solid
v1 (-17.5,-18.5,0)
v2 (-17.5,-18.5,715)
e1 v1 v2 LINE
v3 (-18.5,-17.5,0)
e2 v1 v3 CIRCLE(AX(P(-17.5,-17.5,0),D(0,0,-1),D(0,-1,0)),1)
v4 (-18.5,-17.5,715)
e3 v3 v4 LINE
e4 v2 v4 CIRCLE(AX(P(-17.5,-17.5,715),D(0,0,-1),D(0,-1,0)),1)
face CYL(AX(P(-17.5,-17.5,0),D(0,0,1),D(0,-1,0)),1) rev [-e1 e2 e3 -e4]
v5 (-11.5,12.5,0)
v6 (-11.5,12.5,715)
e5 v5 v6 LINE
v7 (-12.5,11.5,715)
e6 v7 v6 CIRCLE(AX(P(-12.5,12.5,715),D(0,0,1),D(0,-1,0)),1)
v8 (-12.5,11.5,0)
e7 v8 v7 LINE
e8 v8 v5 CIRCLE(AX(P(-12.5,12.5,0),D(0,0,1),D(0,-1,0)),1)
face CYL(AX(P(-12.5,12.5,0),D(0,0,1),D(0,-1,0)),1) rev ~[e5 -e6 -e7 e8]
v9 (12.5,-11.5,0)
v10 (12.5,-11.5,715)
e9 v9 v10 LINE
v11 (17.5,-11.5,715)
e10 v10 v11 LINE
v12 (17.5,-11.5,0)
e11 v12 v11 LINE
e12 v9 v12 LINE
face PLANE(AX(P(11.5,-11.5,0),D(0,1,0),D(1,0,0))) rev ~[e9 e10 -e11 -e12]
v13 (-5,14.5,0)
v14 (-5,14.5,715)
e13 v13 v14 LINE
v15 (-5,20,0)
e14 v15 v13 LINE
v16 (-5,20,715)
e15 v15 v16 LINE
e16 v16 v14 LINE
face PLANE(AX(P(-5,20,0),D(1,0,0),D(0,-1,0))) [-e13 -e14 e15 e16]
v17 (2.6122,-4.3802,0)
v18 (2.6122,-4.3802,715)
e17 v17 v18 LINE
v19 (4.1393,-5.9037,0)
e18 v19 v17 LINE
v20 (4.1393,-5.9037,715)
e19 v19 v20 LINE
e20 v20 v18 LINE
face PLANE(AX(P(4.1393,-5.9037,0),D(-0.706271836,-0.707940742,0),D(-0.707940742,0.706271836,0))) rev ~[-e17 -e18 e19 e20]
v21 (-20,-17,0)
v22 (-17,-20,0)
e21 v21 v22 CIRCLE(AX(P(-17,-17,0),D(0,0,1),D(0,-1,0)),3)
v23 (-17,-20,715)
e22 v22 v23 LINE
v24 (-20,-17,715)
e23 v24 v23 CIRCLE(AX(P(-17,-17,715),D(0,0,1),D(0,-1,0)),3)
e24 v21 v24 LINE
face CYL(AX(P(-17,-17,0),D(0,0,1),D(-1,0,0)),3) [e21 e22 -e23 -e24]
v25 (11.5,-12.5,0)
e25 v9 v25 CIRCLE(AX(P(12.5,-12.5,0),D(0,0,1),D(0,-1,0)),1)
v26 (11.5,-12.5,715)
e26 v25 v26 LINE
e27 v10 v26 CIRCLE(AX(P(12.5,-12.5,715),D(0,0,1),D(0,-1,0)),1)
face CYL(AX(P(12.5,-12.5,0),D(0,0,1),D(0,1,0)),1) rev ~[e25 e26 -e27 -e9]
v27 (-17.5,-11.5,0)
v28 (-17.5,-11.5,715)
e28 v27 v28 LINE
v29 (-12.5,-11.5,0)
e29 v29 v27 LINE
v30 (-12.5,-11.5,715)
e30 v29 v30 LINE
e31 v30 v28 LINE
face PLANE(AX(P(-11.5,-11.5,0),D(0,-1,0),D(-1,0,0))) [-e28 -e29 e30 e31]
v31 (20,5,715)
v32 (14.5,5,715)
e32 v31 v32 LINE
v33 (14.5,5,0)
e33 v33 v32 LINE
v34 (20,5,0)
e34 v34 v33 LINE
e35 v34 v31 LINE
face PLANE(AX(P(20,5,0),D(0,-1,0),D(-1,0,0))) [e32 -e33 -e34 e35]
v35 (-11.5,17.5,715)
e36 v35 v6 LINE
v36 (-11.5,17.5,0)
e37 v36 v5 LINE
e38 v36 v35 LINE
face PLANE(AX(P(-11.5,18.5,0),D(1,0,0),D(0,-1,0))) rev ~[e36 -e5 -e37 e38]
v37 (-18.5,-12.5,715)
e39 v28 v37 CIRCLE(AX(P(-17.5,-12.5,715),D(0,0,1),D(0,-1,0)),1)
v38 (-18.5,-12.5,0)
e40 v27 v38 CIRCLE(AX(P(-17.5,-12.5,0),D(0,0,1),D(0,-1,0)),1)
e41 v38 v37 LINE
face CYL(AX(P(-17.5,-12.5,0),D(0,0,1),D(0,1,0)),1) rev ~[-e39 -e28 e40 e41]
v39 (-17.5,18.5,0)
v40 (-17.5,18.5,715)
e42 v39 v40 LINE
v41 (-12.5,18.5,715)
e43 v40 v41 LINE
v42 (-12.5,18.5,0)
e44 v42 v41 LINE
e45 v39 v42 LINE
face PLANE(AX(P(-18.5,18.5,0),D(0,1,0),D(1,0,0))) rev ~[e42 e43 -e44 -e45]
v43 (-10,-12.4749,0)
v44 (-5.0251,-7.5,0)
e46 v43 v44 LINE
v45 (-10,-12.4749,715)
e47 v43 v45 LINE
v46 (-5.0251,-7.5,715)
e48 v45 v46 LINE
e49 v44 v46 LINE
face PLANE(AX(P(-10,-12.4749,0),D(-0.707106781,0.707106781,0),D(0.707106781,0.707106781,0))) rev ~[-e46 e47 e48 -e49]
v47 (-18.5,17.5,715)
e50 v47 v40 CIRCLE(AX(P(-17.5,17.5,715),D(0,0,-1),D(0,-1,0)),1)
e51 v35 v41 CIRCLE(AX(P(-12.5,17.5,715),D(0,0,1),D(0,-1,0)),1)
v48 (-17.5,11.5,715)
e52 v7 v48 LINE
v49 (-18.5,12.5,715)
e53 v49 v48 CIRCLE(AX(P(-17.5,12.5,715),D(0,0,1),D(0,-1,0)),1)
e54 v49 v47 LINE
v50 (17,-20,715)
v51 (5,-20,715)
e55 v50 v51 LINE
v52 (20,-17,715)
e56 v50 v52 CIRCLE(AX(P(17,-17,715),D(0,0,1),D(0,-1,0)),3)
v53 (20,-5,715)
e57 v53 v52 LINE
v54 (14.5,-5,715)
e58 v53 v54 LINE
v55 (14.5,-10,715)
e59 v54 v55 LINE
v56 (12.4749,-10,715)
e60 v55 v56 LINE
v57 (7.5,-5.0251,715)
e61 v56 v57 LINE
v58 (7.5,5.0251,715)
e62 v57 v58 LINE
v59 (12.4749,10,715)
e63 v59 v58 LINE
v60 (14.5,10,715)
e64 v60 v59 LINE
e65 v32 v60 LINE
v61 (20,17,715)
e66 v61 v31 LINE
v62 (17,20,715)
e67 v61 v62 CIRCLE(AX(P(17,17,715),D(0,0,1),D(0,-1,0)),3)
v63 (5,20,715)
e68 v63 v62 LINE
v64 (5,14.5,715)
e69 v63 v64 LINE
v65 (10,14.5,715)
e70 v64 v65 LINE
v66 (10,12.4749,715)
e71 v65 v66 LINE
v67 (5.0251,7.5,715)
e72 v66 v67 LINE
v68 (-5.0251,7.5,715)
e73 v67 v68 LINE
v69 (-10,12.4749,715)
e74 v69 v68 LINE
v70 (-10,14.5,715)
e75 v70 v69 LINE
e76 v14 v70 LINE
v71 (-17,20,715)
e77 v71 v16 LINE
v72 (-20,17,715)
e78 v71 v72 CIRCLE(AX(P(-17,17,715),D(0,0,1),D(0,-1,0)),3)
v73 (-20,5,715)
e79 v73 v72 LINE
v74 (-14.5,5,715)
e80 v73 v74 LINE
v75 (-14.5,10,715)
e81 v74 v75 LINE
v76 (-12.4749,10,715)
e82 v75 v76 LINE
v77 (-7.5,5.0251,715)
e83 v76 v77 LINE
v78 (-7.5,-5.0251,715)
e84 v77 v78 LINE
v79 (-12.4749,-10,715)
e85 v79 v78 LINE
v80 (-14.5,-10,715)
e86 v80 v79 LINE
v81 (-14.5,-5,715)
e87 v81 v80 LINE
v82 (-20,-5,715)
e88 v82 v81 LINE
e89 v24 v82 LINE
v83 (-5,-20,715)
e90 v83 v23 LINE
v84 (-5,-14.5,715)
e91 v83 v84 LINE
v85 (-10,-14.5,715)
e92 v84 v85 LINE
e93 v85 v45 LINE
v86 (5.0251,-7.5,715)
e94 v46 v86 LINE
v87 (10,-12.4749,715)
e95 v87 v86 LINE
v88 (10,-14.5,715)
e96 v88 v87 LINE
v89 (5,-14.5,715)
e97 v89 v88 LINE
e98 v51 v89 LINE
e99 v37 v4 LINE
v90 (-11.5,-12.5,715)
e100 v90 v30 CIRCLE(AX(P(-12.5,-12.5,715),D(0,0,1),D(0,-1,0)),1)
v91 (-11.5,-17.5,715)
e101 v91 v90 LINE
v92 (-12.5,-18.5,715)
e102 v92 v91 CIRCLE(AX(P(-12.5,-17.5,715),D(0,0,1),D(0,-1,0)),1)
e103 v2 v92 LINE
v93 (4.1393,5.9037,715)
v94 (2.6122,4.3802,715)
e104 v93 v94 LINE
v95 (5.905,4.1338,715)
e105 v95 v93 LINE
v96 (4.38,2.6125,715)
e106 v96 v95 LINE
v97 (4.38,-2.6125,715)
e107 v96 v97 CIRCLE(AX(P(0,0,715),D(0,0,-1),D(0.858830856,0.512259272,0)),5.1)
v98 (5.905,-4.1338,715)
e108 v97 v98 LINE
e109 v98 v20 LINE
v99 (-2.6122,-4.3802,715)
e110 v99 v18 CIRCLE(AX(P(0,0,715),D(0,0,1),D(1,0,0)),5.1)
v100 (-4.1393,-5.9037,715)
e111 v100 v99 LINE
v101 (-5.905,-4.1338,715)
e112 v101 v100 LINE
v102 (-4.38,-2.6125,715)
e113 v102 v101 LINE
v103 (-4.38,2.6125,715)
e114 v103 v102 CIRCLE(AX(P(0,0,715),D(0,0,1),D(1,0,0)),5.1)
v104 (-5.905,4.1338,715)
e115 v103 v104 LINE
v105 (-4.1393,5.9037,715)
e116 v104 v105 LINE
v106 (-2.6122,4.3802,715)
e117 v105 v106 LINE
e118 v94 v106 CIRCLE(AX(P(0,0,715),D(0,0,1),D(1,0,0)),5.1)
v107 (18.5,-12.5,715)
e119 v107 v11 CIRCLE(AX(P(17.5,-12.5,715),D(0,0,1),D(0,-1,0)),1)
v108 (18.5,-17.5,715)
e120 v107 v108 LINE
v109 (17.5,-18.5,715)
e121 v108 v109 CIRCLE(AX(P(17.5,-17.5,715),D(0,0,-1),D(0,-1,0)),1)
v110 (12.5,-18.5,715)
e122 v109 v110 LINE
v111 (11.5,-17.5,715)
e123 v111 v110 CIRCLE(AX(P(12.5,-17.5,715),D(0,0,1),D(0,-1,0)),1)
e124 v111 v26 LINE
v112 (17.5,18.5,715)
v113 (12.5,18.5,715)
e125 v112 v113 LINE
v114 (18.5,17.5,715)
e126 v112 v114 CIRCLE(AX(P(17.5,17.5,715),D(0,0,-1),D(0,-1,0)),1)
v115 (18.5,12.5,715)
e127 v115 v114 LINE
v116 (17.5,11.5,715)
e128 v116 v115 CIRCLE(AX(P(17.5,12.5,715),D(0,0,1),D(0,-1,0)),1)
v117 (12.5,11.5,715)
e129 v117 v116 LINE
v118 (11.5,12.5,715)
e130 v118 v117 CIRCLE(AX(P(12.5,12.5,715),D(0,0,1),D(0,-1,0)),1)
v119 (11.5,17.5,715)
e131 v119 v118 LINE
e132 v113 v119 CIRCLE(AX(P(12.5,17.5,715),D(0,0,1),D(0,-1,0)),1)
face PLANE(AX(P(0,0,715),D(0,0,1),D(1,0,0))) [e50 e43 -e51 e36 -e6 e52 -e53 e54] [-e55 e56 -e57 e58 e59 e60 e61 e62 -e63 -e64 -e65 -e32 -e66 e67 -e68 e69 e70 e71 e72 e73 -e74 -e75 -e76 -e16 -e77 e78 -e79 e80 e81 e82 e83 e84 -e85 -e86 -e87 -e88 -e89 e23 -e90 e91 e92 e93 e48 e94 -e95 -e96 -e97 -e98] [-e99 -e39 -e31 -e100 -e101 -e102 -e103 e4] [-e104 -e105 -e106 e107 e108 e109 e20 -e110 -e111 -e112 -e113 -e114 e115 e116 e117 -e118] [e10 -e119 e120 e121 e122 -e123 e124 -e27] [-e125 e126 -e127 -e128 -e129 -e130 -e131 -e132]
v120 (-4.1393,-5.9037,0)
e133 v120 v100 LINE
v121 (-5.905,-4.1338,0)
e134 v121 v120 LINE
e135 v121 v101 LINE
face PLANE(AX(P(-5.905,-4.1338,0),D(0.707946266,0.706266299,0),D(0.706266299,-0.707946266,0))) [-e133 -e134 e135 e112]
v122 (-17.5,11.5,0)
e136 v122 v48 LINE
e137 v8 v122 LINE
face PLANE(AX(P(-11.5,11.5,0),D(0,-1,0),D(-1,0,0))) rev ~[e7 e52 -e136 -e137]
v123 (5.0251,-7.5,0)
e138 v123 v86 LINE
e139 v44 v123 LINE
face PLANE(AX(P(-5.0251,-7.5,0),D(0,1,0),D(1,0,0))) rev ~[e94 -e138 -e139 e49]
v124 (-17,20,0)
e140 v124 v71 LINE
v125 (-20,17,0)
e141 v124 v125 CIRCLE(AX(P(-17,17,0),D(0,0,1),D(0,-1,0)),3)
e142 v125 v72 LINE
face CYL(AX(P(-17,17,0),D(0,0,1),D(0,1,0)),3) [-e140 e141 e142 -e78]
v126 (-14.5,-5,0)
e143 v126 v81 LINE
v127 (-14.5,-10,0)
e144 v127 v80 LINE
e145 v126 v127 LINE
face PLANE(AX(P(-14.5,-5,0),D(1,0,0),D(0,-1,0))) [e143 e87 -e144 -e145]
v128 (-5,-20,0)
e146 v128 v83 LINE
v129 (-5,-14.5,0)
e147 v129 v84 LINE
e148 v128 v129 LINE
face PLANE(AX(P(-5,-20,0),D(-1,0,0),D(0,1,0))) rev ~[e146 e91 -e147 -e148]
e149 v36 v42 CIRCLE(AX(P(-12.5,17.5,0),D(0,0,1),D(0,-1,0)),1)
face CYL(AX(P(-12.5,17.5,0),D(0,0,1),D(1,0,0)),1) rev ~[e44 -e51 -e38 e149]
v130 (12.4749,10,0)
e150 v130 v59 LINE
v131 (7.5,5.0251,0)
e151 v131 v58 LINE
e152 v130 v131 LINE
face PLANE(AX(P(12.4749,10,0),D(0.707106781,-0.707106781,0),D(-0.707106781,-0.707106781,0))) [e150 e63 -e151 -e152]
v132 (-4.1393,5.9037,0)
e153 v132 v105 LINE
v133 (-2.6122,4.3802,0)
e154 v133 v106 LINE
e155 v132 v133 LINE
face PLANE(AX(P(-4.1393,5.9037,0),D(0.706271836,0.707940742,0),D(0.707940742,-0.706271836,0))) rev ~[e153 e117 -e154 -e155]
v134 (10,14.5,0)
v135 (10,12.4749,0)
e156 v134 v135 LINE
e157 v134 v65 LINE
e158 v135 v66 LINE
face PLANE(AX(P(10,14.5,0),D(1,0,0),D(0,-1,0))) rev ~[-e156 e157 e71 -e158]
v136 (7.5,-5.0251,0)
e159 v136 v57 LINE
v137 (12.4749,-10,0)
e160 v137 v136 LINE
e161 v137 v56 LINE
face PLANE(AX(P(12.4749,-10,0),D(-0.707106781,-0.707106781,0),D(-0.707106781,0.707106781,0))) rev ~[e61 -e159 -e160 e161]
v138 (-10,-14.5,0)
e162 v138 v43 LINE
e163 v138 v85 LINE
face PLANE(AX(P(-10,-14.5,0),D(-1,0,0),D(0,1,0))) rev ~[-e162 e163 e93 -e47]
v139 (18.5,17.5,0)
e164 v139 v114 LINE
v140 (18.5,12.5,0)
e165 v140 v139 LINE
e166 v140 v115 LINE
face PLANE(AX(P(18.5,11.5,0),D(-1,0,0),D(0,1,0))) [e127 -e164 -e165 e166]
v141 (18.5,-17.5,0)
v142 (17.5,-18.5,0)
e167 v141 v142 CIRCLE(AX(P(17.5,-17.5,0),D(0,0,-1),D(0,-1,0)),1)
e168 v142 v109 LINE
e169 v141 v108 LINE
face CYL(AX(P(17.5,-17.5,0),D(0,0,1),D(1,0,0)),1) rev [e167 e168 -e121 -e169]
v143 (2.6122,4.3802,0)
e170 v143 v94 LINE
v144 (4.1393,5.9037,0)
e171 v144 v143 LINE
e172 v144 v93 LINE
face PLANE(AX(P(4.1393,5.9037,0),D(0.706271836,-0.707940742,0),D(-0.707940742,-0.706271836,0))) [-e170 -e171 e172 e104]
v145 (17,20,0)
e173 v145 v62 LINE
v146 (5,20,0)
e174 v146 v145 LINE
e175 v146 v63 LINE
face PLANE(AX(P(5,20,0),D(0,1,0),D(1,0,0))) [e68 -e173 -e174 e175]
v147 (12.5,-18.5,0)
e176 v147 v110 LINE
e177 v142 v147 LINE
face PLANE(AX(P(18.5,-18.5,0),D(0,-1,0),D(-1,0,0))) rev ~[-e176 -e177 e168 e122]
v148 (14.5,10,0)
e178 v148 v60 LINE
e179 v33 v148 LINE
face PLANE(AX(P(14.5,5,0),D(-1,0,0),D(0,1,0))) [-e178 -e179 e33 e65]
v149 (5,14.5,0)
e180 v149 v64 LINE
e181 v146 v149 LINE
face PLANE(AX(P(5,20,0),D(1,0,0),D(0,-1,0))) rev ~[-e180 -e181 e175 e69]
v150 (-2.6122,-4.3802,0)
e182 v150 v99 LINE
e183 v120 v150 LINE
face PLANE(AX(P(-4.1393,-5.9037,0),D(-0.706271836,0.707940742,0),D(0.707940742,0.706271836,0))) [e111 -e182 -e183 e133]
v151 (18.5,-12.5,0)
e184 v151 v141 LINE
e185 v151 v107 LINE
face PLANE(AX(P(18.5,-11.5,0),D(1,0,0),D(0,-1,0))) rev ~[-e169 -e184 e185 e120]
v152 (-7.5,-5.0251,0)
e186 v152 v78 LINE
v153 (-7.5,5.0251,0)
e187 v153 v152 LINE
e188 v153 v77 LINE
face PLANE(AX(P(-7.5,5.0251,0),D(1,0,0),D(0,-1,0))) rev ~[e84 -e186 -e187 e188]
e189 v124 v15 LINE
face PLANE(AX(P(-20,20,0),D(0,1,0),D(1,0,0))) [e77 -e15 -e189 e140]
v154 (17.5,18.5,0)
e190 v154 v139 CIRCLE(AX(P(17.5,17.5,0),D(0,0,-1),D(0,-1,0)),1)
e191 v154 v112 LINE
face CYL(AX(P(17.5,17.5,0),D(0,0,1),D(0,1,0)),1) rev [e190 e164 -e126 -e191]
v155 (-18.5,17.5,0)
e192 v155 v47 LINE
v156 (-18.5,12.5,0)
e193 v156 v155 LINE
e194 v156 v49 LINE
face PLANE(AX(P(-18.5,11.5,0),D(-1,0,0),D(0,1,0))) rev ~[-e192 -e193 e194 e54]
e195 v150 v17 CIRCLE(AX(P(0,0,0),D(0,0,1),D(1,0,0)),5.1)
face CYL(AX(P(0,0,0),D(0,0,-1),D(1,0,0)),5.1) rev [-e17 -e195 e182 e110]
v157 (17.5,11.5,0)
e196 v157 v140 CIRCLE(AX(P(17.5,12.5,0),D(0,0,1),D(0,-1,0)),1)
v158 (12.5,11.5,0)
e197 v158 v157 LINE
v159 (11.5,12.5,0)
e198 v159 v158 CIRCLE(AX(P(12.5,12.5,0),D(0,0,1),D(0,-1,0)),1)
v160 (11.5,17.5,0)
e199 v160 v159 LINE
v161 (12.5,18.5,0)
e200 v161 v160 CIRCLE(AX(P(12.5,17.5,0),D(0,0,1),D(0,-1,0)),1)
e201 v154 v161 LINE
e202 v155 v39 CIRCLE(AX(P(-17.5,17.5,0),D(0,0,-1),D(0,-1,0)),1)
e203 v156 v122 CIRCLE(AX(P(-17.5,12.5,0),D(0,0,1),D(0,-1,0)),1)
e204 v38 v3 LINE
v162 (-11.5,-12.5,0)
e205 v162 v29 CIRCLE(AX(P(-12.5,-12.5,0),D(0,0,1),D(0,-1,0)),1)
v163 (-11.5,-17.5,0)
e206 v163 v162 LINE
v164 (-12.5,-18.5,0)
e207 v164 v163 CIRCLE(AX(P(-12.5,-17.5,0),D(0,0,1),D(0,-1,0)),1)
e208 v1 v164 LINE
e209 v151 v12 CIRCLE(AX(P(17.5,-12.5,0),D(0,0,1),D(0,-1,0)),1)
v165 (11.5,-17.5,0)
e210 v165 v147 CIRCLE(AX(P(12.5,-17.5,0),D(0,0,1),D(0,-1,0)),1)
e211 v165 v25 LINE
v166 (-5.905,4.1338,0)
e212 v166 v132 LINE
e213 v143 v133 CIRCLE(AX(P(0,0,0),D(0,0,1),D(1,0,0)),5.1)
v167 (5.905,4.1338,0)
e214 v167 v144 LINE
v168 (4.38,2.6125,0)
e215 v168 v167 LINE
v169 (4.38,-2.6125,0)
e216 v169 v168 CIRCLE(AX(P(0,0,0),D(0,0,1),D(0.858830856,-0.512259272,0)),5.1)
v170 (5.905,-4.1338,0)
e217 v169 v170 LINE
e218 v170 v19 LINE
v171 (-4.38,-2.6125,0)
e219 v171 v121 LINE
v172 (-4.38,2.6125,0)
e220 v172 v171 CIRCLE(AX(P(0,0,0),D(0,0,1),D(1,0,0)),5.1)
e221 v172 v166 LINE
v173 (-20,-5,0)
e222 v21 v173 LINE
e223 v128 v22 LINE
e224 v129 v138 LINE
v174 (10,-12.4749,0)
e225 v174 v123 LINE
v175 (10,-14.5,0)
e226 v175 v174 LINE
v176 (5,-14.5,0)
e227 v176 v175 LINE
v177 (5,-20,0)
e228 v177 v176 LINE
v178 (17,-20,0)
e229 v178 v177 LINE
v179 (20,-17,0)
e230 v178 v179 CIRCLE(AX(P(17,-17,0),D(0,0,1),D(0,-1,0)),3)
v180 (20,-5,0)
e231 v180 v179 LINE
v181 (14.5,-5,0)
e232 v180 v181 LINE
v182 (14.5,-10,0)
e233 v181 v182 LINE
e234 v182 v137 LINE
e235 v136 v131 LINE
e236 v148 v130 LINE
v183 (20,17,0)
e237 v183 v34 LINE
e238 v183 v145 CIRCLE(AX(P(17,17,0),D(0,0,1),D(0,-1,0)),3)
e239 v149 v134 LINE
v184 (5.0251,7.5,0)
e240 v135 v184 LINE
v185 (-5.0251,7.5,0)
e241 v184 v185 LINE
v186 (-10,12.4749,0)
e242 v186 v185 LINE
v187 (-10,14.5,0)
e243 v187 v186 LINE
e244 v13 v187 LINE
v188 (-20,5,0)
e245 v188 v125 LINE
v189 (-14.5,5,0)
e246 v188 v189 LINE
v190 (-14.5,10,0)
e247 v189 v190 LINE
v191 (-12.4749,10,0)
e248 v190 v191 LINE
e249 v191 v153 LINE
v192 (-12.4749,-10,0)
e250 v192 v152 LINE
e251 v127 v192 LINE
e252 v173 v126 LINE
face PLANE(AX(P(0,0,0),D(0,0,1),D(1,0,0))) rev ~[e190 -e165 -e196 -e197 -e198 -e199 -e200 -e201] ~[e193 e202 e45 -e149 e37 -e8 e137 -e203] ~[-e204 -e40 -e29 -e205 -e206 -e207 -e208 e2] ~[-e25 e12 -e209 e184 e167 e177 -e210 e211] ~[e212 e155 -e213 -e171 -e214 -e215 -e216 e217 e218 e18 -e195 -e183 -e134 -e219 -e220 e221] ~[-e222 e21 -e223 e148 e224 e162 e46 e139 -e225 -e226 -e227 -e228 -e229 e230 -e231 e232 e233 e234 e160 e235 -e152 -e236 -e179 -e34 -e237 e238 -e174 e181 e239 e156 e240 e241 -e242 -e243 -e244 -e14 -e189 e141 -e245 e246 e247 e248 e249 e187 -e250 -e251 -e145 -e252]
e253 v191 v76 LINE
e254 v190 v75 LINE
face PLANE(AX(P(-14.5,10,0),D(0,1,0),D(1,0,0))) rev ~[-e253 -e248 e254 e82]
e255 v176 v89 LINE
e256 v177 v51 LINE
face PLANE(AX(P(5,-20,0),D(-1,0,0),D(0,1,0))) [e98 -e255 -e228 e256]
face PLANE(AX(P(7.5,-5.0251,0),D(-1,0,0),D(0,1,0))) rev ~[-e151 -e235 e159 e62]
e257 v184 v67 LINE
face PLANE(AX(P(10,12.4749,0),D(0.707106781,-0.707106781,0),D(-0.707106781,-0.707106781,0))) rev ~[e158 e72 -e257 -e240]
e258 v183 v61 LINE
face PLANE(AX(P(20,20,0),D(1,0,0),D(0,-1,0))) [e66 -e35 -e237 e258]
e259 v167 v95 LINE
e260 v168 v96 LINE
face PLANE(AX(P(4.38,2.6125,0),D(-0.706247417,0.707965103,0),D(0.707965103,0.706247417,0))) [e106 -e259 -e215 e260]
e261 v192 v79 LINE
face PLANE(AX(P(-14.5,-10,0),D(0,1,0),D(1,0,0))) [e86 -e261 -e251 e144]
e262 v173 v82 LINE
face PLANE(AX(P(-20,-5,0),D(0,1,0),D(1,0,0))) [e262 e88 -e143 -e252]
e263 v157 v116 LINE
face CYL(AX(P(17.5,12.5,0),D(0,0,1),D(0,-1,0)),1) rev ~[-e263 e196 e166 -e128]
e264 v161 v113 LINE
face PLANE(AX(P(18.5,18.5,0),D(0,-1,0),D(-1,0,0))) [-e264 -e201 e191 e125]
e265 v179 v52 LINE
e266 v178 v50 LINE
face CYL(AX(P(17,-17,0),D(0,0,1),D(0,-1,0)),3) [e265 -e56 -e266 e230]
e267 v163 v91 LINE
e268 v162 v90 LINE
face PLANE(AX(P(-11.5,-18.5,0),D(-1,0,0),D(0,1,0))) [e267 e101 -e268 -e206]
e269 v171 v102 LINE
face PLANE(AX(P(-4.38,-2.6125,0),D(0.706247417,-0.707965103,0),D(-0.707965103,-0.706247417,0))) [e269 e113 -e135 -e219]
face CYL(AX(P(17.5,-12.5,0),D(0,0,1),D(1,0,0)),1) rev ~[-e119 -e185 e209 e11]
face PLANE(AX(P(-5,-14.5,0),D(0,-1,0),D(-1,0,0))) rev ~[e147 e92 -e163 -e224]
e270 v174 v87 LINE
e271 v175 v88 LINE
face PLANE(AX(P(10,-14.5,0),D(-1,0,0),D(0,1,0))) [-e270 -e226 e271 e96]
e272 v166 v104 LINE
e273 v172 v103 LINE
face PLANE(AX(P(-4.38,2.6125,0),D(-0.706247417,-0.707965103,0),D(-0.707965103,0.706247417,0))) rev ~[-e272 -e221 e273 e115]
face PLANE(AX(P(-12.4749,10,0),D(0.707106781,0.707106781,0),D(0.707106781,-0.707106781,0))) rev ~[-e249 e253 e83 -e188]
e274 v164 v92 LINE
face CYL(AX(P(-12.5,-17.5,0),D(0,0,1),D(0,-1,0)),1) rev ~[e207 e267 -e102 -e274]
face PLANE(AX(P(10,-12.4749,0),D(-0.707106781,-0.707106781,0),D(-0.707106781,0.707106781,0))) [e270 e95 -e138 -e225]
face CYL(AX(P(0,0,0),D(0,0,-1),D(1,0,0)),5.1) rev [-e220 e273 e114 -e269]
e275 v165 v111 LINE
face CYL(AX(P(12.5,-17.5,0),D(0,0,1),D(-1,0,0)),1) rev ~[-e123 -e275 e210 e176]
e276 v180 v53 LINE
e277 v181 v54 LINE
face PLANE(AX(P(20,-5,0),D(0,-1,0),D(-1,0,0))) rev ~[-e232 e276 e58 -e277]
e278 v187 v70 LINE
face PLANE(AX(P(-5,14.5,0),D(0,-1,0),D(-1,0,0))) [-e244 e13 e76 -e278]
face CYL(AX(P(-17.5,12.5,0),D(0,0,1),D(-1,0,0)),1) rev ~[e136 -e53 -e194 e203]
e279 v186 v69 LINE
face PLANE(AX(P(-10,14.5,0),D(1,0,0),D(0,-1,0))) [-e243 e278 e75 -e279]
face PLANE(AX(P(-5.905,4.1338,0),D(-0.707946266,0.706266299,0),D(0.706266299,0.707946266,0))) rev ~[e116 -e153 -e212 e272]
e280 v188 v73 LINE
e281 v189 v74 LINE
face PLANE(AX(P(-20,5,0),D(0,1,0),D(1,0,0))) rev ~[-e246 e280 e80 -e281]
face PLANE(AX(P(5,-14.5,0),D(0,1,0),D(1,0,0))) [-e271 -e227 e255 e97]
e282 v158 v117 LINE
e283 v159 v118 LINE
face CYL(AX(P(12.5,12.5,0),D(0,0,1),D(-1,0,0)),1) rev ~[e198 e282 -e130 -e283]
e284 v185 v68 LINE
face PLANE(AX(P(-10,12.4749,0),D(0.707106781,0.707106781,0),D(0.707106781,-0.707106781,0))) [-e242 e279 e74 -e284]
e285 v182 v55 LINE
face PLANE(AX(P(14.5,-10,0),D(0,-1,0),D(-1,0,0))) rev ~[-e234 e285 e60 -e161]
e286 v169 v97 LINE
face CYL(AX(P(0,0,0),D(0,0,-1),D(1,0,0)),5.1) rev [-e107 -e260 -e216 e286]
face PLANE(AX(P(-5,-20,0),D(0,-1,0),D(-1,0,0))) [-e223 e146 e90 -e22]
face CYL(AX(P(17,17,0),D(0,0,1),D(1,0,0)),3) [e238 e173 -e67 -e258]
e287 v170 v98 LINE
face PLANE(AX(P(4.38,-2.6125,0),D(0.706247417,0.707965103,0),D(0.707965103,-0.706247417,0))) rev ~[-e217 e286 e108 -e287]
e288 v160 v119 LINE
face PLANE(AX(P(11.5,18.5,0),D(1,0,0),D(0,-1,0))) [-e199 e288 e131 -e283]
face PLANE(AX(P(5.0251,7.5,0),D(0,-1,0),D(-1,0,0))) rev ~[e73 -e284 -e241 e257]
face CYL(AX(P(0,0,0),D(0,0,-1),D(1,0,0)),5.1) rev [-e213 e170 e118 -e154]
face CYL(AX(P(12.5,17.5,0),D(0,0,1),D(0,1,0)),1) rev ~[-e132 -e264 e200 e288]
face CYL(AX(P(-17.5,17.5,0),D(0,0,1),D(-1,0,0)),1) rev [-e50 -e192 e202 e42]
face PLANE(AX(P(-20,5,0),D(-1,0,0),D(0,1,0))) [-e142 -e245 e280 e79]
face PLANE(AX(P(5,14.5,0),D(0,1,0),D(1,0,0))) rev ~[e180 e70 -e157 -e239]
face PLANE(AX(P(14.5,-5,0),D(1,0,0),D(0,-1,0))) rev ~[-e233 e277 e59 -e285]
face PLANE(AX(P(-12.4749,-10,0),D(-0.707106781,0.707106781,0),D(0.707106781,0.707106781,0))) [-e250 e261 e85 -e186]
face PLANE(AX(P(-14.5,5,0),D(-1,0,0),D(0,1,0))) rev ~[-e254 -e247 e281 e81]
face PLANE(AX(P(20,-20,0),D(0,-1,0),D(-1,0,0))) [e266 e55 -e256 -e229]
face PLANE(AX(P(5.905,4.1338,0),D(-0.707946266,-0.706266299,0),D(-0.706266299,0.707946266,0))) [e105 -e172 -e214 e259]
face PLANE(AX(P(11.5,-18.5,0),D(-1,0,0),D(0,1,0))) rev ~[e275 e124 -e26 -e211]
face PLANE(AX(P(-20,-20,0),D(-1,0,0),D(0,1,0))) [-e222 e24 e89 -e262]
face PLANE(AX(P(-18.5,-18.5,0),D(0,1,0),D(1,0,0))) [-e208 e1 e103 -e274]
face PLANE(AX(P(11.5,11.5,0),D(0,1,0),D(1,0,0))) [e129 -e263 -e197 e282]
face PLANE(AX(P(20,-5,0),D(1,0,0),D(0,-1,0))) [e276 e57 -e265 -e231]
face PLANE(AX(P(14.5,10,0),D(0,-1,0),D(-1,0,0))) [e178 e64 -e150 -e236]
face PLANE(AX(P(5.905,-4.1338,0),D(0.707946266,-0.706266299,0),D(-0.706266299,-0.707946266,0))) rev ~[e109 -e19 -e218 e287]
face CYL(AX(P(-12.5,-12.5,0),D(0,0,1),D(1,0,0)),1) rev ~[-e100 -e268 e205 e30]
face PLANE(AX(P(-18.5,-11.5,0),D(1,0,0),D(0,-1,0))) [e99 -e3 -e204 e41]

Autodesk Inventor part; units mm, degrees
ref_plane "YZ Plane" through (0, 0, 0) normal (1, 0, 0) x (0, 1, 0)
ref_plane "XZ Plane" through (0, 0, 0) normal (0, 1, 0) x (-1, 0, 0)
ref_plane "XY Plane" through (0, 0, 0) normal (0, 0, 1) x (1, 0, 0)
sketch "T-Slot 4040 Base" plane through (0, 0, 0) normal (0, 0, 1) x (1, 0, 0)
  line L0 (-28, 0) -> (28, 0) construction
  line L1 (0, -28) -> (0, 28) construction
  circle A0 centre (0, 0) radius 5.1
  line L2 (-7.5, -7.5) -> (7.5, -7.5)
  line L3 (7.5, -7.5) -> (7.5, 7.5)
  line L4 (7.5, 7.5) -> (-7.5, 7.5)
  line L5 (-7.5, 7.5) -> (-7.5, -7.5)
  line L6 (-7.5, -7.5) -> (7.5, 7.5) construction
  line L7 (7.5, -7.5) -> (-7.5, 7.5) construction
  line L8 (-20, 20) -> (20, 20)
  line L9 (20, 20) -> (20, -20)
  line L10 (20, -20) -> (-20, -20)
  line L11 (-20, -20) -> (-20, 20)
  line L12 (-20, 20) -> (20, -20) construction
  line L13 (20, 20) -> (-20, -20) construction
  line L14 (20, 5) -> (14.5, 5)
  line L15 (14.5, 5) -> (14.5, 10)
  line L16 (14.5, 10) -> (12.4749, 10)
  line L17 (12.4749, 10) -> (7.5, 5.0251)
  line L18 (5, 20) -> (5, 14.5)
  line L19 (5, 14.5) -> (10, 14.5)
  line L20 (10, 14.5) -> (10, 12.4749)
  line L21 (10, 12.4749) -> (5.0251, 7.5)
  line L22 (18.5, 18.5) -> (11.5, 18.5)
  line L23 (11.5, 18.5) -> (11.5, 11.5)
  line L24 (11.5, 11.5) -> (18.5, 11.5)
  line L25 (18.5, 11.5) -> (18.5, 18.5)
  line L26 (18.5, 18.5) -> (11.5, 11.5) construction
  line L27 (11.5, 18.5) -> (18.5, 11.5) construction
  line L28 (3.0732, 1.3088) -> (4.38, 2.6125) construction
  line L29 (5.905, 4.1338) -> (4.1393, 5.9037)
  line L30 (4.1393, 5.9037) -> (2.6122, 4.3802)
  line L31 (1.3075, 3.0787) -> (3.0732, 1.3088) construction
  line L32 (3.0732, 1.3088) -> (4.1393, 5.9037) construction
  line L33 (5.905, 4.1338) -> (1.3075, 3.0787) construction
  line L34 (4.38, 2.6125) -> (5.905, 4.1338)
  line L35 (2.6122, 4.3802) -> (1.3075, 3.0787) construction
  line L36 (-20, 5) -> (-14.5, 5)
  line L37 (-14.5, 5) -> (-14.5, 10)
  line L38 (-14.5, 10) -> (-12.4749, 10)
  line L39 (-12.4749, 10) -> (-7.5, 5.0251)
  line L40 (-5, 20) -> (-5, 14.5)
  line L41 (-5, 14.5) -> (-10, 14.5)
  line L42 (-10, 14.5) -> (-10, 12.4749)
  line L43 (-10, 12.4749) -> (-5.0251, 7.5)
  line L44 (-18.5, 18.5) -> (-11.5, 18.5)
  line L45 (-11.5, 18.5) -> (-11.5, 11.5)
  line L46 (-11.5, 11.5) -> (-18.5, 11.5)
  line L47 (-18.5, 11.5) -> (-18.5, 18.5)
  line L48 (-5.905, 4.1338) -> (-4.1393, 5.9037)
  line L49 (-4.1393, 5.9037) -> (-2.6122, 4.3802)
  line L50 (-4.38, 2.6125) -> (-5.905, 4.1338)
  line L51 (7.5, -7.5) -> (-7.5, -7.5)
  line L52 (20, -5) -> (14.5, -5)
  line L53 (14.5, -5) -> (14.5, -10)
  line L54 (14.5, -10) -> (12.4749, -10)
  line L55 (12.4749, -10) -> (7.5, -5.0251)
  line L56 (5, -20) -> (5, -14.5)
  line L57 (5, -14.5) -> (10, -14.5)
  line L58 (10, -14.5) -> (10, -12.4749)
  line L59 (10, -12.4749) -> (5.0251, -7.5)
  line L60 (18.5, -18.5) -> (11.5, -18.5)
  line L61 (11.5, -18.5) -> (11.5, -11.5)
  line L62 (11.5, -11.5) -> (18.5, -11.5)
  line L63 (18.5, -11.5) -> (18.5, -18.5)
  line L64 (18.5, -18.5) -> (11.5, -11.5) construction
  line L65 (11.5, -18.5) -> (18.5, -11.5) construction
  line L66 (3.0732, -1.3088) -> (4.38, -2.6125) construction
  line L67 (5.905, -4.1338) -> (4.1393, -5.9037)
  line L68 (4.1393, -5.9037) -> (2.6122, -4.3802)
  line L69 (1.3075, -3.0787) -> (3.0732, -1.3088) construction
  line L70 (3.0732, -1.3088) -> (4.1393, -5.9037) construction
  line L71 (5.905, -4.1338) -> (1.3075, -3.0787) construction
  line L72 (4.38, -2.6125) -> (5.905, -4.1338)
  line L73 (2.6122, -4.3802) -> (1.3075, -3.0787) construction
  line L74 (-4.38, -2.6125) -> (-5.905, -4.1338)
  line L75 (-4.1393, -5.9037) -> (-2.6122, -4.3802)
  line L76 (-5.905, -4.1338) -> (-4.1393, -5.9037)
  line L77 (-12.4749, -10) -> (-7.5, -5.0251)
  line L78 (-10, -12.4749) -> (-5.0251, -7.5)
  line L79 (-10, -14.5) -> (-10, -12.4749)
  line L80 (-5, -14.5) -> (-10, -14.5)
  line L81 (-5, -20) -> (-5, -14.5)
  line L82 (-18.5, -18.5) -> (-11.5, -18.5)
  line L83 (-11.5, -18.5) -> (-11.5, -11.5)
  line L84 (-11.5, -11.5) -> (-18.5, -11.5)
  line L85 (-18.5, -11.5) -> (-18.5, -18.5)
  line L86 (-14.5, -10) -> (-12.4749, -10)
  line L87 (-14.5, -5) -> (-14.5, -10)
  line L88 (-20, -5) -> (-14.5, -5)
  point P0 (15, 15)
  point P1 (3.6062, 3.6062)
  point P2 (3.6062, 3.6062)
  point P3 (15, -15)
  point P4 (3.6062, -3.6062)
  point P5 (3.6062, -3.6062)
  dimension "d9" = 10.2
  dimension "d12" = 40
  dimension "d13" = 40
  dimension "d14" = 5.5
  dimension "d15" = 15
  dimension "d16" = 7
  dimension "d17" = 10
  dimension "d20" = 1.75
  dimension "d21" = 7
  dimension "d22" = 2
  dimension "d29" = 1.5
  dimension "d30" = 2.5
extrude "Extrusion1" add sketch "T-Slot 4040 Base" along normal blind 715 contours L5 L4 L3 L2 | L2 L78 L79 L80 L81 L10 L11 L88 L87 L86 L77 L5 | L2 L3 L55 L54 L53 L52 L9 L10 L56 L57 L58 L59 | L39 L38 L37 L36 L11 L8 L40 L41 L42 L43 L4 L5 | L3 L4 L21 L20 L19 L18 L8 L9 L14 L15 L16 L17
fillet "Rundung1" radius 1 16 edges at (11.5, 18.5, 357.5) (18.5, 18.5, 357.5) (18.5, 11.5, 357.5) (11.5, 11.5, 357.5) (-11.5, 18.5, 357.5) (-18.5, 18.5, 357.5) (-18.5, 11.5, 357.5) (-11.5, 11.5, 357.5) (-18.5, -11.5, 357.5) (-11.5, -11.5, 357.5) (-11.5, -18.5, 357.5) (-18.5, -18.5, 357.5) (11.5, -18.5, 357.5) (11.5, -11.5, 357.5) (18.5, -11.5, 357.5) (18.5, -18.5, 357.5)
fillet "Rundung2" radius 3 4 edges at (20, 20, 357.5) (20, -20, 357.5) (-20, -20, 357.5) (-20, 20, 357.5)
properties part number "T-SLOT 4040 B-Type 715mm"
